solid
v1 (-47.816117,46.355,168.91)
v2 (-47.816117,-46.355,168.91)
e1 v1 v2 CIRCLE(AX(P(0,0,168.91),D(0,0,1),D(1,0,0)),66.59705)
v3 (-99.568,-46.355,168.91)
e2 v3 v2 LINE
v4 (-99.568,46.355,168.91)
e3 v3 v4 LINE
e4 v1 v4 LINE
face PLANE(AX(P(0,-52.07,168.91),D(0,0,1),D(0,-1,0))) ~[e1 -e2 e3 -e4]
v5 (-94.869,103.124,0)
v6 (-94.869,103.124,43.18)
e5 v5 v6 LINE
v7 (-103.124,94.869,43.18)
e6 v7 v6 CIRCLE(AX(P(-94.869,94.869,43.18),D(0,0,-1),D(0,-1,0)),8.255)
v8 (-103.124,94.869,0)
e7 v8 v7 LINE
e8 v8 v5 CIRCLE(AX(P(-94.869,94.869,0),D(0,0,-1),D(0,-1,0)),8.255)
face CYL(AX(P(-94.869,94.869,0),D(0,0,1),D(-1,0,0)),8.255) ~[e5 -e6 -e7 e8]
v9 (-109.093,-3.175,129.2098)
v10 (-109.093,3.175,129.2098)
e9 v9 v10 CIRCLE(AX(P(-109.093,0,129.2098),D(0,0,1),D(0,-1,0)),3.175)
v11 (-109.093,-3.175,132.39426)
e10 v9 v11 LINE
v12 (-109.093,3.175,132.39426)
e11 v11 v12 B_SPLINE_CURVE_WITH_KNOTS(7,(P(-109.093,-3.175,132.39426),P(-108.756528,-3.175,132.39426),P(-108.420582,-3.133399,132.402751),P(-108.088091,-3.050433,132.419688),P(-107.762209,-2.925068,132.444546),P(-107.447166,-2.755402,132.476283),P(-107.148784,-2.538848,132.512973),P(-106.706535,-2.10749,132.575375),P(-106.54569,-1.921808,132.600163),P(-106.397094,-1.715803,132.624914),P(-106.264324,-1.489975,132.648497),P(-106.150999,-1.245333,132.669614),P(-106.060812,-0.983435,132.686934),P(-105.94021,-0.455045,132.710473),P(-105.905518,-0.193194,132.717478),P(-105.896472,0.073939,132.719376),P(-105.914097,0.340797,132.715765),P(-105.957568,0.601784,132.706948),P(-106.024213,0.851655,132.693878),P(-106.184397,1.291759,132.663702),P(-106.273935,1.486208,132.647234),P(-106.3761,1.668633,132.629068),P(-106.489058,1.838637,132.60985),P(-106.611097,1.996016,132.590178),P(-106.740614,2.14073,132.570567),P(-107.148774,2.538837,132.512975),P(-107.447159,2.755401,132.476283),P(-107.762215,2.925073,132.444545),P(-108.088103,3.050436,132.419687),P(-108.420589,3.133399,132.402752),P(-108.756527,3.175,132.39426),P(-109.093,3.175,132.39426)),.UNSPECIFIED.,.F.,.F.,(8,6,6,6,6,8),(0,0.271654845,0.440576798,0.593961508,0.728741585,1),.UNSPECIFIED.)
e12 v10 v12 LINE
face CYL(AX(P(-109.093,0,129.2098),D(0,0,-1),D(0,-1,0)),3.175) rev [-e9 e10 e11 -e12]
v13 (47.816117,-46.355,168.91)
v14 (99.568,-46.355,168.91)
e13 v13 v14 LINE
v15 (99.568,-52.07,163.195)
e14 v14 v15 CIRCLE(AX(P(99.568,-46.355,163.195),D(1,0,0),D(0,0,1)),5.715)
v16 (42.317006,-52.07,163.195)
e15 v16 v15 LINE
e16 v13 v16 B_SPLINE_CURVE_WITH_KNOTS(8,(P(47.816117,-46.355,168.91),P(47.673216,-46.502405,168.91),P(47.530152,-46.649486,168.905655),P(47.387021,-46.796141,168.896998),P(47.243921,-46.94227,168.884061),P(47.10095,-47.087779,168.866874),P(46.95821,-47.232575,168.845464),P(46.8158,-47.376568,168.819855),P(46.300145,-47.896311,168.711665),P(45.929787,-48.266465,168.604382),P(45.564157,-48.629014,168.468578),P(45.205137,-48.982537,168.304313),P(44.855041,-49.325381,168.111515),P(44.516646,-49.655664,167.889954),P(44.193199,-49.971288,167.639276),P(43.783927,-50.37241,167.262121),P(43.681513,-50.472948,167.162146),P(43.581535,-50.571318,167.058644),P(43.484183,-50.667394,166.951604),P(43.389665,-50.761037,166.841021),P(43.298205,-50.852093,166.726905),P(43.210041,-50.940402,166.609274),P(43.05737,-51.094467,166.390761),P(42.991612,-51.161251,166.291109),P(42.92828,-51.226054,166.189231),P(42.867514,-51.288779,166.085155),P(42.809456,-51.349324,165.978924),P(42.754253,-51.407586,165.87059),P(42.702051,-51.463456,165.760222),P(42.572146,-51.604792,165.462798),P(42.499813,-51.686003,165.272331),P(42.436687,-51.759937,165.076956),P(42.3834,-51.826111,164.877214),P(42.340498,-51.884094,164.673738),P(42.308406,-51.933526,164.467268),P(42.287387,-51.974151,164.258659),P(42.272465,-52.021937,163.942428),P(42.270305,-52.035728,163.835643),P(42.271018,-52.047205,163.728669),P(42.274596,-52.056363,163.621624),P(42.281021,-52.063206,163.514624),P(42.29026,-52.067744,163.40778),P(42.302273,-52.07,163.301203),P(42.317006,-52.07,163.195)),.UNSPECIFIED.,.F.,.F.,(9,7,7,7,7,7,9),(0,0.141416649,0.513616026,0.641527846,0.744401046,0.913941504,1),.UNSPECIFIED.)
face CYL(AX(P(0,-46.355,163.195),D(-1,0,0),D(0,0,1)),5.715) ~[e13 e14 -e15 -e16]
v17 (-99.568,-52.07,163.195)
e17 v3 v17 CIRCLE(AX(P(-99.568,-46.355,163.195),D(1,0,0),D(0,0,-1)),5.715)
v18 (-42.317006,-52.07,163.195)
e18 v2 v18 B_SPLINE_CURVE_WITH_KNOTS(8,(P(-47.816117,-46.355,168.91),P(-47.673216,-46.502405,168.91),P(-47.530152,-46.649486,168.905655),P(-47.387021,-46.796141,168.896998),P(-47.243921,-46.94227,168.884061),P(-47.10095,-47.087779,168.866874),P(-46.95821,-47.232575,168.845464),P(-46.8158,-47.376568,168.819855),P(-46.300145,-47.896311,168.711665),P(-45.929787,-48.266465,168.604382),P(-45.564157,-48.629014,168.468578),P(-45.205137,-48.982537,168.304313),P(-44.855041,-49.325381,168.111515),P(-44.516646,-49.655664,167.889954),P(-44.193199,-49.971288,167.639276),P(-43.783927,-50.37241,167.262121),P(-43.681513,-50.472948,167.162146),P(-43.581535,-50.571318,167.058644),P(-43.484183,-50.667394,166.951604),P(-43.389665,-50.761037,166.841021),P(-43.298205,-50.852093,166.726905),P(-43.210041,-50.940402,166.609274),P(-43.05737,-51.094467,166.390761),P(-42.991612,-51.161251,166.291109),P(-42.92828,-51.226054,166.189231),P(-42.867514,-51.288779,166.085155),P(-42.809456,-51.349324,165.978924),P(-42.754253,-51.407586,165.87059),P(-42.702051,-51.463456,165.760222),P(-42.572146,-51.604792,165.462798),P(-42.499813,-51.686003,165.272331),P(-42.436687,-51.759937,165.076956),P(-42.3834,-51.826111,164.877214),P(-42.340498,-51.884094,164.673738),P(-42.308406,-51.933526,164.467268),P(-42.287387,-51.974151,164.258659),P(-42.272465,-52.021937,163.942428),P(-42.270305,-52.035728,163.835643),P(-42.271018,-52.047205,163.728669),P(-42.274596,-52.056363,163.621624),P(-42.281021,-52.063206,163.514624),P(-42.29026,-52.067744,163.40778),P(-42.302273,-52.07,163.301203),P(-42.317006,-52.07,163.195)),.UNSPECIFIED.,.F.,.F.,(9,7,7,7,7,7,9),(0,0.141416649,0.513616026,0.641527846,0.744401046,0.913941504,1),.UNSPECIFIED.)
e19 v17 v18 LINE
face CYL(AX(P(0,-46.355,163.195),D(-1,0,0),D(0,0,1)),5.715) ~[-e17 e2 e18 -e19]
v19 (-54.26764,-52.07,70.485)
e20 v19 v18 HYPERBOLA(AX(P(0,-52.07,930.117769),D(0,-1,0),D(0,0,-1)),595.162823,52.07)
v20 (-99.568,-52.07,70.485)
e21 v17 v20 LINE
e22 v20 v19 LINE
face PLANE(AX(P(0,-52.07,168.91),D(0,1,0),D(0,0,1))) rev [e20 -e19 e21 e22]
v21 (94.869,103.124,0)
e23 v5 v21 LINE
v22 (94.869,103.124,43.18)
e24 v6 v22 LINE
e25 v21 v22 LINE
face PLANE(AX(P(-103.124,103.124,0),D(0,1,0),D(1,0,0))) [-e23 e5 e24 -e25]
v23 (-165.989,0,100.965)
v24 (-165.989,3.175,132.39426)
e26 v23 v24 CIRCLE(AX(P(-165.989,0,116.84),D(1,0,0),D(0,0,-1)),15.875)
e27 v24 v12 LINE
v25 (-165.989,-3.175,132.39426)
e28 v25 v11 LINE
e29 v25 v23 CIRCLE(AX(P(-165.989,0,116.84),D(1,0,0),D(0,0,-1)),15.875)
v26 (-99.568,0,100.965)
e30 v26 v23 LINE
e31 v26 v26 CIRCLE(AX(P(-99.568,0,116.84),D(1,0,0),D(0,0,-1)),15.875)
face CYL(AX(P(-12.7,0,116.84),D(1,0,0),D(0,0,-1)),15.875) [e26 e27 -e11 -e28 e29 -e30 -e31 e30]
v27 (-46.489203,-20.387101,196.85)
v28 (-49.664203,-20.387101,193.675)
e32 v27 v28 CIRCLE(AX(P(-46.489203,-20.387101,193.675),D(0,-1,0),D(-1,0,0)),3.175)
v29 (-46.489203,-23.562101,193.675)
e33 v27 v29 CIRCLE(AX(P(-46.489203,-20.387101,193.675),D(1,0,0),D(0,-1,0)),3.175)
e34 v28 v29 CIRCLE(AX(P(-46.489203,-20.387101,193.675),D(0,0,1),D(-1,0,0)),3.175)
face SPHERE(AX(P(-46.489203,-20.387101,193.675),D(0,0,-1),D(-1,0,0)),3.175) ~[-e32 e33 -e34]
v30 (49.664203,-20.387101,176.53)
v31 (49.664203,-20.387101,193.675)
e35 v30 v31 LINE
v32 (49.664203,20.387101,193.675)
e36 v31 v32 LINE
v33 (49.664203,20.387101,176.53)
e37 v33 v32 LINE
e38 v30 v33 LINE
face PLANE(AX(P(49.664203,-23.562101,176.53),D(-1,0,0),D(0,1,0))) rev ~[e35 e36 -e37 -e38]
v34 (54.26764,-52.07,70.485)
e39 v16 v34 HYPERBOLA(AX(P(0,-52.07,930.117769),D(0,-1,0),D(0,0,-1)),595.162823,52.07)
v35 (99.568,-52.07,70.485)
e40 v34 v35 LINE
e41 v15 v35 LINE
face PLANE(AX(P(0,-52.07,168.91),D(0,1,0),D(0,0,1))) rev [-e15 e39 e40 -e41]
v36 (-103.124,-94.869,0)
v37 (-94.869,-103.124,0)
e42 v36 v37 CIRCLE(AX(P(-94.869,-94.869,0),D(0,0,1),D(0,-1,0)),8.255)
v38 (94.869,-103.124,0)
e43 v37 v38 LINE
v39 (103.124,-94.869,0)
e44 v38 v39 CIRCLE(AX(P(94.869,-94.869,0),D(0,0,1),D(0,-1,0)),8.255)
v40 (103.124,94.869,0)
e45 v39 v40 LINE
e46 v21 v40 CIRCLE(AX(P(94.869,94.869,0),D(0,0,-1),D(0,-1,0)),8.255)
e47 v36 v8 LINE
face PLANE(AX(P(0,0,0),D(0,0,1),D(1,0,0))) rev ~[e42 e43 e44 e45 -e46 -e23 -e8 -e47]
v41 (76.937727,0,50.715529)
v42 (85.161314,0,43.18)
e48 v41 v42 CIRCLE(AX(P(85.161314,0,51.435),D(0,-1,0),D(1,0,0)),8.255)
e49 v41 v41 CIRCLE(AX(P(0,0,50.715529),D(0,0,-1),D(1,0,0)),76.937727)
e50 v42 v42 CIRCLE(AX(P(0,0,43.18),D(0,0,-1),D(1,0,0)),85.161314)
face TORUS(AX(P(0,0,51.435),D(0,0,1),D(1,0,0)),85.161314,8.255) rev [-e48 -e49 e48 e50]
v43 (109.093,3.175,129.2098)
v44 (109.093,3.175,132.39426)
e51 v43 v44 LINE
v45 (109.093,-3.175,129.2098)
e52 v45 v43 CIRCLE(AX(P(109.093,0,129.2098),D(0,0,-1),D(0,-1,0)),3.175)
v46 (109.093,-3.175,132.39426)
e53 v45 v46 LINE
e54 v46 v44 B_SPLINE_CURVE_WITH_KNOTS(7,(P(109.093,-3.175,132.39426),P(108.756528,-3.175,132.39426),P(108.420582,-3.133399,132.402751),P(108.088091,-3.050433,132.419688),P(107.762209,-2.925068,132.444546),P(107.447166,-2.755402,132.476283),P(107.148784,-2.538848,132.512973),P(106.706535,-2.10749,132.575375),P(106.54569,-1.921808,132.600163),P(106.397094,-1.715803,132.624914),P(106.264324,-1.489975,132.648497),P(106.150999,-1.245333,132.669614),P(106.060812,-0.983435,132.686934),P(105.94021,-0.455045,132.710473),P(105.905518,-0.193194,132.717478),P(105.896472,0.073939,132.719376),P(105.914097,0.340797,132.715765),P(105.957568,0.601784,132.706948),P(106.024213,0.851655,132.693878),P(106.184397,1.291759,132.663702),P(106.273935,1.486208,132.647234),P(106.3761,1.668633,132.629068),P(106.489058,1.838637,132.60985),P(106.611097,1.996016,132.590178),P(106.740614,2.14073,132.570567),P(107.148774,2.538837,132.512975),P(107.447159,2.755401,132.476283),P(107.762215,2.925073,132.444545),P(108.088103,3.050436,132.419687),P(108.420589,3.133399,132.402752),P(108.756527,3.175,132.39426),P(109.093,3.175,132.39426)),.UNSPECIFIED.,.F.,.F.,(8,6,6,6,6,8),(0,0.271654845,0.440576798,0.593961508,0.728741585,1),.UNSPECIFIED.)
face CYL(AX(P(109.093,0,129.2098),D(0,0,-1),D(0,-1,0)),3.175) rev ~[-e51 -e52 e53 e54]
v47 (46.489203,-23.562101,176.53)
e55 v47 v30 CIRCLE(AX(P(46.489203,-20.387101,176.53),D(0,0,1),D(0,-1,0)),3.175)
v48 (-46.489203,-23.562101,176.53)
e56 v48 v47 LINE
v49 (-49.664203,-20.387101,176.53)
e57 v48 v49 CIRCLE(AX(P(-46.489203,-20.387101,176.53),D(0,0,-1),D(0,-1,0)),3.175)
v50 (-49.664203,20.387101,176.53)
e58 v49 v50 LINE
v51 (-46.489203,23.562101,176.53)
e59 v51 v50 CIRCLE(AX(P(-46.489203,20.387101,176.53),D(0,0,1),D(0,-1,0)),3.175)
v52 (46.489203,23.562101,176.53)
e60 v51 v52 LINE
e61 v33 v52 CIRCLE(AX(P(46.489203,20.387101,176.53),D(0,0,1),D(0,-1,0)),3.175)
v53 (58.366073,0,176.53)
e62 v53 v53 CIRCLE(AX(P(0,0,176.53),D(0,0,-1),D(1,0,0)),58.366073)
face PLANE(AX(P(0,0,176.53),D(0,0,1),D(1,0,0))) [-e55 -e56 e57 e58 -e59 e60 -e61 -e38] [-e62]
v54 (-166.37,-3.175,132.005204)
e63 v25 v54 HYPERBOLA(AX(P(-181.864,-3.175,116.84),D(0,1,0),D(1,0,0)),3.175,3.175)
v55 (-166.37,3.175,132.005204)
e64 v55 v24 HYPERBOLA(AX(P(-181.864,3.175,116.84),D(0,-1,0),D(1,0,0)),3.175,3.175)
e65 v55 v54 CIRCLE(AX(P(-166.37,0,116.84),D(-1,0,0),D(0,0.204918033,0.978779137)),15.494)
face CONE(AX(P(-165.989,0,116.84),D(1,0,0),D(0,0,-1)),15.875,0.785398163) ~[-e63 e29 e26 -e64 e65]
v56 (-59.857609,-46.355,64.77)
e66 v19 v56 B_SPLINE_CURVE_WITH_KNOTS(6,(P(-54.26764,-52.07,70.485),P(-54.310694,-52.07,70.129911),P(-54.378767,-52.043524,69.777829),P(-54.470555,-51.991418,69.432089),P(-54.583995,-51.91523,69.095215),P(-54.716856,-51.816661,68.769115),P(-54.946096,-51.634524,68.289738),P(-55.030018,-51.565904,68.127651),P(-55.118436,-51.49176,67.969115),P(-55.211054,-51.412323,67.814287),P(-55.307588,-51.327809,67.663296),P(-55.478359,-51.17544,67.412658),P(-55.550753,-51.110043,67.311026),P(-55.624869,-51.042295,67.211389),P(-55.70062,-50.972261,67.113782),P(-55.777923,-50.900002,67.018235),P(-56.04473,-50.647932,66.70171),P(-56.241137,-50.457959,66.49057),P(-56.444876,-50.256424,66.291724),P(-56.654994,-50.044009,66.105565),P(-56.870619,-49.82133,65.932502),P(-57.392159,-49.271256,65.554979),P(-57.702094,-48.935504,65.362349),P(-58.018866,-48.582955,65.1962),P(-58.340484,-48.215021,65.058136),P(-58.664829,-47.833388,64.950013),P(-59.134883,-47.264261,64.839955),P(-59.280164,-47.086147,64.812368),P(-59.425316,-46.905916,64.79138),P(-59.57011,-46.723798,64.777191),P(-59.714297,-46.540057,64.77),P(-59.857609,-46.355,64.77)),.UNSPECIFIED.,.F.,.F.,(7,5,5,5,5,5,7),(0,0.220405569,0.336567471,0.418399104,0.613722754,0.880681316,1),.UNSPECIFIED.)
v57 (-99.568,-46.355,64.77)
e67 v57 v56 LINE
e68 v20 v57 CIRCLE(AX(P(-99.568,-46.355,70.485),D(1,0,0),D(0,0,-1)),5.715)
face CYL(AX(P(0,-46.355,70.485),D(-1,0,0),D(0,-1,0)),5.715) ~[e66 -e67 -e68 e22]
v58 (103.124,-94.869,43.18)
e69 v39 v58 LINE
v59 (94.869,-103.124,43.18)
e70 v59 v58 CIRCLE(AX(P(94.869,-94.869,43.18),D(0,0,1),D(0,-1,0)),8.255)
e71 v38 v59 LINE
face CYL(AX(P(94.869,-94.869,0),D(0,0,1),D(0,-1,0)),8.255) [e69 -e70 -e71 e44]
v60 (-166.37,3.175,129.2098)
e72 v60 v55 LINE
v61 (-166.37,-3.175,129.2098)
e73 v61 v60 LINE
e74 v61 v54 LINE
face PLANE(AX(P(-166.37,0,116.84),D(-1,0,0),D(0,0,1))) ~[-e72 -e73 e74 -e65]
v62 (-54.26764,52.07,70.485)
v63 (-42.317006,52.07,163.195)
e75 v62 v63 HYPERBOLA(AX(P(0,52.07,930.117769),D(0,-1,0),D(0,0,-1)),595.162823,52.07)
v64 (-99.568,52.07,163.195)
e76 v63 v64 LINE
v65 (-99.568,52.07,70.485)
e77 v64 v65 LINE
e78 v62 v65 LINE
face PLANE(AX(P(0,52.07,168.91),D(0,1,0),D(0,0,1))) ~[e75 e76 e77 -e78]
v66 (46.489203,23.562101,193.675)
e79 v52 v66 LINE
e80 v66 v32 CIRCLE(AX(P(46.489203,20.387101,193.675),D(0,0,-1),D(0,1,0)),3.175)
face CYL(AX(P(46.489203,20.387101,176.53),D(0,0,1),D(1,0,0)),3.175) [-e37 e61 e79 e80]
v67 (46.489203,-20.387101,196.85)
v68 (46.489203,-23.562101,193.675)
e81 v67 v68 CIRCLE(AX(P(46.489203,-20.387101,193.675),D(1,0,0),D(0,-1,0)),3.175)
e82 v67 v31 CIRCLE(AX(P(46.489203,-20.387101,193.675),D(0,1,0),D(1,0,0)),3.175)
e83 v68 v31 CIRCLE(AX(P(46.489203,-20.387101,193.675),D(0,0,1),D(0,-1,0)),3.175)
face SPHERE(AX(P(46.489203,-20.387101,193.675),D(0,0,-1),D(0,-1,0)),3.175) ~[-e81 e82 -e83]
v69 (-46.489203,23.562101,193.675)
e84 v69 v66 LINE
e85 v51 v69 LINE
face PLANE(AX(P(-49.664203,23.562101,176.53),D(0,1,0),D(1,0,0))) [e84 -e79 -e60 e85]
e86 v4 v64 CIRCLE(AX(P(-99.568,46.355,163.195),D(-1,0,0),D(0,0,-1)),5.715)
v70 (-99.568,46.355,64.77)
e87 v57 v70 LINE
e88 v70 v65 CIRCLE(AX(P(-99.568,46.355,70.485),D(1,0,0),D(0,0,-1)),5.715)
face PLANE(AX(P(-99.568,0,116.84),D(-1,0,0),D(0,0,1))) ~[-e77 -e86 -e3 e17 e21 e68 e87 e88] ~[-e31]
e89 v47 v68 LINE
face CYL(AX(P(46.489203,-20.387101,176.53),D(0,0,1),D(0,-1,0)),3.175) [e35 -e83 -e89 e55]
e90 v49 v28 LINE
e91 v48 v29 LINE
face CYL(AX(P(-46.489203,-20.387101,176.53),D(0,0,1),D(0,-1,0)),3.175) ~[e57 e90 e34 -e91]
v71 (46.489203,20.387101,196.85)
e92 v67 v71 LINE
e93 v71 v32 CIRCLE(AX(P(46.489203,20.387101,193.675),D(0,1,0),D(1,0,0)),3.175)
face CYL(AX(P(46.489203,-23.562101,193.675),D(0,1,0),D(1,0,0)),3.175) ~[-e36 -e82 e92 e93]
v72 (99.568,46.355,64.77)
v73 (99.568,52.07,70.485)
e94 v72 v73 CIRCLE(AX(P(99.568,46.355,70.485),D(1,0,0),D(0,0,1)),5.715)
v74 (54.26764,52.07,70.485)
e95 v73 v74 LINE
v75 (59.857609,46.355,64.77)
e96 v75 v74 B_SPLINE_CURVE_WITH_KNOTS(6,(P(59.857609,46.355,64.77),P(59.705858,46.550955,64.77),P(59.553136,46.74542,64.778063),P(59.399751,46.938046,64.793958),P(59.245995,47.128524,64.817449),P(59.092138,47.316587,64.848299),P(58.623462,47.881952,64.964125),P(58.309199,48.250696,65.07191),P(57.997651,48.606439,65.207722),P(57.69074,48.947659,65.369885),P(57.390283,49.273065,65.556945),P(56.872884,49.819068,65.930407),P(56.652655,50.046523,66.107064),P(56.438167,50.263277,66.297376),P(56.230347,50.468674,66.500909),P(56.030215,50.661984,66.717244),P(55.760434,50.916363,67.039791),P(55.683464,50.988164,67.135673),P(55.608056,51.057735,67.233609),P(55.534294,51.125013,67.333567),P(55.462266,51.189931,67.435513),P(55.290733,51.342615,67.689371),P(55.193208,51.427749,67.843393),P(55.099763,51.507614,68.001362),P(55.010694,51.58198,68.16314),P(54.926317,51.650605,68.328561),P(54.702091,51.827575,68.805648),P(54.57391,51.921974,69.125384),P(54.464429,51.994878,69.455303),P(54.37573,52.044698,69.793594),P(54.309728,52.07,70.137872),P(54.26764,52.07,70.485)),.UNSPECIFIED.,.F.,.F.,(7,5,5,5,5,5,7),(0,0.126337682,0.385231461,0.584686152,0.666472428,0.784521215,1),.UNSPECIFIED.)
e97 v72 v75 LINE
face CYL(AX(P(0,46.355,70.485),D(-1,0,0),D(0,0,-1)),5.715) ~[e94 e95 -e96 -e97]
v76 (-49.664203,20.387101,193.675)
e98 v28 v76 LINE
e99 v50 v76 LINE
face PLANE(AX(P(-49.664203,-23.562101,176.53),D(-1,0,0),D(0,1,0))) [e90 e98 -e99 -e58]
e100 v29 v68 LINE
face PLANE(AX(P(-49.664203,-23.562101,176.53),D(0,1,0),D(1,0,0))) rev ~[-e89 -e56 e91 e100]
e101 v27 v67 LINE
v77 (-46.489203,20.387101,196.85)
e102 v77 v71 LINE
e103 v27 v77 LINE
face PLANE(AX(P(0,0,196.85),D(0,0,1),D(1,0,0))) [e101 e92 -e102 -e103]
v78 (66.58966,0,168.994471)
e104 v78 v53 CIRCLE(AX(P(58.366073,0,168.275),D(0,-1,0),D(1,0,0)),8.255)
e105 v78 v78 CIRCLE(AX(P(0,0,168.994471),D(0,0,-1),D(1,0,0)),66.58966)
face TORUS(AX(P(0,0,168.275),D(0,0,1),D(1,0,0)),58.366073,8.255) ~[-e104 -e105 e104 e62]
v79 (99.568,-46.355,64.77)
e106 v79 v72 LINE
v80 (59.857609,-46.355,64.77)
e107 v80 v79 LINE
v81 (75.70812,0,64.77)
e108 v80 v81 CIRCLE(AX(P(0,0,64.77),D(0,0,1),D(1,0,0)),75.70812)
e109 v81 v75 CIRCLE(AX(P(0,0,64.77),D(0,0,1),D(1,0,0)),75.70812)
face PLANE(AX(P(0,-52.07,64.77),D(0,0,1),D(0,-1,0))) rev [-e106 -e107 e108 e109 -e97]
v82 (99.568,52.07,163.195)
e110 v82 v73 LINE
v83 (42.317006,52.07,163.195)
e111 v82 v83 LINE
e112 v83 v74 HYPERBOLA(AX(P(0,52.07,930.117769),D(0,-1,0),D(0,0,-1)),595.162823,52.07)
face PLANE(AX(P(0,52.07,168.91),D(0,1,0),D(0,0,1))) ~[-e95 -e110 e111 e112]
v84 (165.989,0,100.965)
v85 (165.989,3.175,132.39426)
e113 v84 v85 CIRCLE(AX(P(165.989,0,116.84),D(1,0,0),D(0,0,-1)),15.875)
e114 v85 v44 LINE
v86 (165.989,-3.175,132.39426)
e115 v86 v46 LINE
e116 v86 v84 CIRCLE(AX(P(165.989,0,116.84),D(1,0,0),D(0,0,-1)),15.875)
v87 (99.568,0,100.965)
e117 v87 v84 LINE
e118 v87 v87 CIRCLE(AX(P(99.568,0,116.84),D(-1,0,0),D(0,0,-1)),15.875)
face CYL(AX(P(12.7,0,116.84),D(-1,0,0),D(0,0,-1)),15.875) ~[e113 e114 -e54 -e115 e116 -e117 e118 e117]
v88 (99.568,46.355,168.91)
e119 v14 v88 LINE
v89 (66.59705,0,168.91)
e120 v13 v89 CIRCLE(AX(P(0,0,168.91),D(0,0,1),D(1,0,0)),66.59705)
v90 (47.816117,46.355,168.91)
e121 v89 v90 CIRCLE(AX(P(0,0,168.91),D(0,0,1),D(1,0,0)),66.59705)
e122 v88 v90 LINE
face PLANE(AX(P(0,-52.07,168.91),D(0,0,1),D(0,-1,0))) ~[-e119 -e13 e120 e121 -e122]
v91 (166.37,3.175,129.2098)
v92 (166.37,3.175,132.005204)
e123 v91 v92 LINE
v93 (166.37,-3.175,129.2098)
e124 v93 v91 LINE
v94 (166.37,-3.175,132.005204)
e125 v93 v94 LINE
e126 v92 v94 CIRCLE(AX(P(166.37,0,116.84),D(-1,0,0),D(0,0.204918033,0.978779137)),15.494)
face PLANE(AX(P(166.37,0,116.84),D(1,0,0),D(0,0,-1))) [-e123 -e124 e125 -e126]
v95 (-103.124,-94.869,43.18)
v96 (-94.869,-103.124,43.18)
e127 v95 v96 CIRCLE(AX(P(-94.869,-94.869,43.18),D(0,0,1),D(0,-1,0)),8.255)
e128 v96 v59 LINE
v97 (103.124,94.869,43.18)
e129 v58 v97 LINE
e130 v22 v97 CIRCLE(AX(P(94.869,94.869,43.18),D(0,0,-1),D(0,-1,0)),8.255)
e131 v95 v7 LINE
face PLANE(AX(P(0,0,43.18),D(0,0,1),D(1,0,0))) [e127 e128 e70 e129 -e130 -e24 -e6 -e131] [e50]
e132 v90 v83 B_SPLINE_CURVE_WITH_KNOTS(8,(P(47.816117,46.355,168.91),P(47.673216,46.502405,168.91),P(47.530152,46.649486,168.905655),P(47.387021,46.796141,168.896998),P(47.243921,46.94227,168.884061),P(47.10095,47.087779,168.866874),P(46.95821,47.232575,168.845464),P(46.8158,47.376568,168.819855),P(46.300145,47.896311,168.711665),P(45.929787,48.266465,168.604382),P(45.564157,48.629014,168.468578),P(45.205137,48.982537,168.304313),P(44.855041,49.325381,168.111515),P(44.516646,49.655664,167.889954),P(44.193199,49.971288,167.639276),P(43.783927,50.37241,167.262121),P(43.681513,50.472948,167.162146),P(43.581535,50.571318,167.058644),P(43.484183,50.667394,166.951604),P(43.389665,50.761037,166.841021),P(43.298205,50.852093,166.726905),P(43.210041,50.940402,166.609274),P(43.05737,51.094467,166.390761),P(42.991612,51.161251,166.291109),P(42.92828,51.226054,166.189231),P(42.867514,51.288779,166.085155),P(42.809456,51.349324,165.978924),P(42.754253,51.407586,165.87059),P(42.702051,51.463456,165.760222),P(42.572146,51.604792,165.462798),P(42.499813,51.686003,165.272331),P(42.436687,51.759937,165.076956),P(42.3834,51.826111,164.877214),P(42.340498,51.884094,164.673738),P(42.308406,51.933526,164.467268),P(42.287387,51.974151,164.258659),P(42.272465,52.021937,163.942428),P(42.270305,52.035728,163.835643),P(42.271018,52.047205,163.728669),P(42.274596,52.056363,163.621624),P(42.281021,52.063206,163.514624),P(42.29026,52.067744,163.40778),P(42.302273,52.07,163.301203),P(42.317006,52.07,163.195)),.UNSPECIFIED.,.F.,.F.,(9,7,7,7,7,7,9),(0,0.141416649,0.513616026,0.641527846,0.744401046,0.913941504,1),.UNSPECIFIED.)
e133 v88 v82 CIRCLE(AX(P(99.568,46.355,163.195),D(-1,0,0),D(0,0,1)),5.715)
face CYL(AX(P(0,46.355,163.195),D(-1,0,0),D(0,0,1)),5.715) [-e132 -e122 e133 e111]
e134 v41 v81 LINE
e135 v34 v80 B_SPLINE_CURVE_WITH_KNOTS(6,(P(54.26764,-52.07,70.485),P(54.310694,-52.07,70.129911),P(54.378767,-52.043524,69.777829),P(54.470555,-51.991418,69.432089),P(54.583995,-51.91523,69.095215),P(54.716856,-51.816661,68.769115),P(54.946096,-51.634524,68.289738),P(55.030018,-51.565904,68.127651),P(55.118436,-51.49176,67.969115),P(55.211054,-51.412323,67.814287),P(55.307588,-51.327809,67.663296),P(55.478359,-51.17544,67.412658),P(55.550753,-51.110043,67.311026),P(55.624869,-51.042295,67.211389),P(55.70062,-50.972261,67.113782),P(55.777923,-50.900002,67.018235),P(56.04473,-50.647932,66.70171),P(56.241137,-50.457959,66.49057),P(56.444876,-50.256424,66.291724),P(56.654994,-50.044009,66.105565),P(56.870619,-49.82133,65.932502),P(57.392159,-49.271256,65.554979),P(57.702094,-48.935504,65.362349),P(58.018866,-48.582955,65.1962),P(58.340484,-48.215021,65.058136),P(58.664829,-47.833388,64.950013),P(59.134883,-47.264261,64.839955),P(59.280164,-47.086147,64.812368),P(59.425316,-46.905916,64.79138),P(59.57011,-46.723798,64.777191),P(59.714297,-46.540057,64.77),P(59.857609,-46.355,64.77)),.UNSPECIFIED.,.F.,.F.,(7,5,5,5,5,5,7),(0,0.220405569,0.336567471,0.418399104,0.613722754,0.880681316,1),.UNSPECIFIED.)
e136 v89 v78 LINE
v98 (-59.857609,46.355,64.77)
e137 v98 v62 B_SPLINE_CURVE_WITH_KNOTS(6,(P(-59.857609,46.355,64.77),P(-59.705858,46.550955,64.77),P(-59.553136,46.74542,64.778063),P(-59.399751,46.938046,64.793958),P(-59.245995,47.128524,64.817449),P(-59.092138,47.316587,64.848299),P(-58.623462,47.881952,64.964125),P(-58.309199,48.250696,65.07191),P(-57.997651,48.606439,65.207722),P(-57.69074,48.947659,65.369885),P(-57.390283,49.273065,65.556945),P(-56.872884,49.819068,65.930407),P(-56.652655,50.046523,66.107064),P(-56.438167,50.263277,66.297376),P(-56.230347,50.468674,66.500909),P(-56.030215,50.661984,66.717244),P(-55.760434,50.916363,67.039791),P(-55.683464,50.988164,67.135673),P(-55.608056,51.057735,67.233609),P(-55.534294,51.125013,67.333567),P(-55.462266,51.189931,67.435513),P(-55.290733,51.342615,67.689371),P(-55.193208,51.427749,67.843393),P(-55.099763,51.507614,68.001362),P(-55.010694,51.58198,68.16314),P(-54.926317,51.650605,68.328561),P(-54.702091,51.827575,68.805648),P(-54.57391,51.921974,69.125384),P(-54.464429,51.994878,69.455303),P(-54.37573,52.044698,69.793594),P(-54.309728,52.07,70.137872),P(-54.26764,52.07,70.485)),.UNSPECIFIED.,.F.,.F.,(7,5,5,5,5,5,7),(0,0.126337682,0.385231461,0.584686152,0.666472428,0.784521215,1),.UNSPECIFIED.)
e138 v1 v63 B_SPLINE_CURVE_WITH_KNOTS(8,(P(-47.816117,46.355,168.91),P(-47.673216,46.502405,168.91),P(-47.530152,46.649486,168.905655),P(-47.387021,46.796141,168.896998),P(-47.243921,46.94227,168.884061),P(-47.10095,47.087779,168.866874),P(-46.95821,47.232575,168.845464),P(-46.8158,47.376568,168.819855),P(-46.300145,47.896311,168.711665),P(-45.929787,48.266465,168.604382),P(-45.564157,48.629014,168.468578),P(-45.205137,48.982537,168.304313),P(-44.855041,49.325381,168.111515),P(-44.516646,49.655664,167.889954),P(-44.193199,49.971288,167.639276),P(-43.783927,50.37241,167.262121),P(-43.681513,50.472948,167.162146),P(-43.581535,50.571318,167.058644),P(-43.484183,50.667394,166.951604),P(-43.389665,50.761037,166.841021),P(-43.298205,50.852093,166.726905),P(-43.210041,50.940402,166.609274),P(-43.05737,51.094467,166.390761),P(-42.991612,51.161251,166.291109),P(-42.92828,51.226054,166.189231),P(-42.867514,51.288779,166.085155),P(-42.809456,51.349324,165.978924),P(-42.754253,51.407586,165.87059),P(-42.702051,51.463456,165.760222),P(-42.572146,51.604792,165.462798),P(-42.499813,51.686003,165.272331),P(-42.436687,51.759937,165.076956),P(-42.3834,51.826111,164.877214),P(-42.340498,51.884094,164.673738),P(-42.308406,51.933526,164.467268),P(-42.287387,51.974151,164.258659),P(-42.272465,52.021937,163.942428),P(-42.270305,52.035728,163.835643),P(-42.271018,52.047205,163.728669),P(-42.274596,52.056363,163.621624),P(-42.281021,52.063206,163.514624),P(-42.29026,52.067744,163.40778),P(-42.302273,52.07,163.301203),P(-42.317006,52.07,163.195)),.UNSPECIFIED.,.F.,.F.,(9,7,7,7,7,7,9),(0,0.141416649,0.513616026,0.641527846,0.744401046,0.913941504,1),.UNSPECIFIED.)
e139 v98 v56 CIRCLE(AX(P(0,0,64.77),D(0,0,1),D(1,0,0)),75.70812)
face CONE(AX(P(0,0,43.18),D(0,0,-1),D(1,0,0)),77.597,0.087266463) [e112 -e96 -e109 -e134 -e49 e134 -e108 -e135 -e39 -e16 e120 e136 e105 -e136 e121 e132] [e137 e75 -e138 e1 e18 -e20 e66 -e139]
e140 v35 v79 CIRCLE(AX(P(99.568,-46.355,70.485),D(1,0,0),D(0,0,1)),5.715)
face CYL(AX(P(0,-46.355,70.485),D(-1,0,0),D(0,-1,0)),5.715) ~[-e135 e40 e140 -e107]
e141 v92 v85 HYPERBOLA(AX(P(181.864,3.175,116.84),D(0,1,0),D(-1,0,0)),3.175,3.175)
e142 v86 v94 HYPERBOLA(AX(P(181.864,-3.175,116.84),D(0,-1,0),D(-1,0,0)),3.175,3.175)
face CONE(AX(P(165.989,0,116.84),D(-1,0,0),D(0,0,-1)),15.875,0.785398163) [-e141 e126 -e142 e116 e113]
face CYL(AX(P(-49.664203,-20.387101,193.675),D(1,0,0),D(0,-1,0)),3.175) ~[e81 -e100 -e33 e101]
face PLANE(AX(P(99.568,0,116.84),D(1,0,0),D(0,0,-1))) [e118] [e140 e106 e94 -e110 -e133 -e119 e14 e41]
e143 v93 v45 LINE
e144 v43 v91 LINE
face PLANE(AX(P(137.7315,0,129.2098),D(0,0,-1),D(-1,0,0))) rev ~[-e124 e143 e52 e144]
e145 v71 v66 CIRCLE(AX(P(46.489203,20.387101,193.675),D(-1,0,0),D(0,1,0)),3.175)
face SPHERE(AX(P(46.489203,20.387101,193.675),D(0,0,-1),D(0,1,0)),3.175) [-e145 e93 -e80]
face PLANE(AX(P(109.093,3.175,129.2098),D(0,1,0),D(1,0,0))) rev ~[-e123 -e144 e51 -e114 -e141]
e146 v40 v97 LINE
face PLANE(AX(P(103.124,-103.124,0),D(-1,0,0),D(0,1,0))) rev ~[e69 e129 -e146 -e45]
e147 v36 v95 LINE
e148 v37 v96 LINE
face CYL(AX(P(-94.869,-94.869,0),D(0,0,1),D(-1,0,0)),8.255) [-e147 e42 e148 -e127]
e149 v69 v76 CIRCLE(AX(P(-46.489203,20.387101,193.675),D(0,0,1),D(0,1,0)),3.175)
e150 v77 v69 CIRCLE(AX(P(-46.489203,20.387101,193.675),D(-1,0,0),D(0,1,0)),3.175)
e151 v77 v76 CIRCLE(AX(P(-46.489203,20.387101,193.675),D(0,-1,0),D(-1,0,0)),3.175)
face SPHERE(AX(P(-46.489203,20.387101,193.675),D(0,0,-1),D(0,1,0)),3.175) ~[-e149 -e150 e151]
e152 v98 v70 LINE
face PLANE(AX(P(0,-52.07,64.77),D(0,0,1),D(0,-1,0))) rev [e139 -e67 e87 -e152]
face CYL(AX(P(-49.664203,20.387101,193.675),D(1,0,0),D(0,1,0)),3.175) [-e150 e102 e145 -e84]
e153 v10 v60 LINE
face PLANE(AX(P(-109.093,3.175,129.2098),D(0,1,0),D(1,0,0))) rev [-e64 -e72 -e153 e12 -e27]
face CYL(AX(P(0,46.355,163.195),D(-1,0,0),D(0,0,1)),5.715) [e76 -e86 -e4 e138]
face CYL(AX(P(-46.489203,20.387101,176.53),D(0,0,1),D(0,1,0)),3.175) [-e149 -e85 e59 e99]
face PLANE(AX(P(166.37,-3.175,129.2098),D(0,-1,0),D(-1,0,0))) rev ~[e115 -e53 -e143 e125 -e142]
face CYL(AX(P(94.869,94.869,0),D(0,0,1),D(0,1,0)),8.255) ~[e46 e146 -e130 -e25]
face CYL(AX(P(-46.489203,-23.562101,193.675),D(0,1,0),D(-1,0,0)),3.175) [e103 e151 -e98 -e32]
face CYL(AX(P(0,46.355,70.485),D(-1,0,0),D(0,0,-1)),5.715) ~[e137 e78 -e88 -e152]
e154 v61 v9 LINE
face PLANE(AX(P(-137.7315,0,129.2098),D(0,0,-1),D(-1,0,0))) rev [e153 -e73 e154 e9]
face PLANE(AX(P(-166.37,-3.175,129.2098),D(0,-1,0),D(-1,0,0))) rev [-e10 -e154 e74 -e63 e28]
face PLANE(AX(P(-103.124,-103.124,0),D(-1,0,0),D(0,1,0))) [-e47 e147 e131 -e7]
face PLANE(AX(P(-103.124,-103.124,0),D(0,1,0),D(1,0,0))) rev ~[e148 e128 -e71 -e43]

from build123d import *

# Parameters (mm, degrees)
SKETCH1_W           = 206.248
SKETCH1_H           = 206.248
C_DIM_DEPTH         = 43.18
SHAFT_START         = 12.7
SKETCH_A_R          = 15.875
SHAFT_DEPTH         = 153.67
SKETCH3_W           = 104.14
SKETCH3_H           = 104.14
BOSS_EXTRUDE3_DEPTH = 99.568
FILLET1_R           = 5.715
FILLET4_R           = 5.715
SKETCH4_R           = 77.597
BOSS_EXTRUDE4_DEPTH = 133.35
BOSS_EXTRUDE4_TAPER = 5
FILLET2_R           = 8.255
SKETCH5_W           = 99.328405226
SKETCH5_H           = 47.124202614
BOSS_EXTRUDE5_DEPTH = 20.32
CHAMFER1_SIZE       = 0.381
FILLET3_R           = 3.175
CUT_EXTRUDE_START   = 12.3698
CUT_EXTRUDE_B_DEPTH = 68.6402


with BuildPart() as part:
    # Sketch1 → C dim (new body)
    with BuildSketch(Plane.XY):
        Rectangle(SKETCH1_W, SKETCH1_H)
    extrude(amount=C_DIM_DEPTH)



with BuildPart() as body_2:
    # Sketch A → Shaft (new body)
    with BuildSketch(Plane(origin=(0, 0, 0), x_dir=(0, 0, -1), z_dir=(1, 0, 0)).offset(SHAFT_START)):
        with Locations((-116.84, 0)):
            Circle(SKETCH_A_R)
    extrude(amount=SHAFT_DEPTH)

    # Chamfer1
    chamfer1_edges = [body_2.edges().sort_by_distance(p)[0] for p in [
        (166.37, 0, 132.715),
    ]]
    chamfer(chamfer1_edges, length=CHAMFER1_SIZE)

    # Sketch6 → Cut-Extrude B (cut, through all)
    with BuildSketch(Plane.XY.offset(116.84).offset(CUT_EXTRUDE_START)):
        with BuildLine():
            Line((166.37, -3.175), (109.093, -3.175))
            ThreePointArc((109.093, -3.175), (105.918, 0), (109.093, 3.175))
            Line((109.093, 3.175), (166.37, 3.175))
            ThreePointArc((166.37, 3.175), (169.545, 0), (166.37, -3.175))
        make_face()
    extrude(amount=CUT_EXTRUDE_B_DEPTH, mode=Mode.SUBTRACT)


with BuildPart() as body_3:
    # Sketch3 → Boss-Extrude3 (new body)
    with BuildSketch(Plane(origin=(0, 0, 0), x_dir=(0, 0, -1), z_dir=(1, 0, 0))):
        with Locations((-116.84, 0)):
            Rectangle(SKETCH3_W, SKETCH3_H)
    extrude(amount=BOSS_EXTRUDE3_DEPTH)


with BuildPart() as body_4:
    # Mirror2: mirrored copy
    add(body_3.part.mirror(Plane(origin=(0, 0, 0), x_dir=(0, 0, 1), z_dir=(1, 0, 0))))

    # Fillet4
    fillet4_edges = [body_4.edges().sort_by_distance(p)[0] for p in [
        (-49.784, 52.07, 64.77),
        (-49.784, 52.07, 168.91),
        (-49.784, -52.07, 168.91),
        (-49.784, -52.07, 64.77),
    ]]
    fillet(fillet4_edges, radius=FILLET4_R)


with BuildPart() as body_3_1:
    add(body_3.part)

    # Fillet1
    fillet1_edges = [body_3_1.edges().sort_by_distance(p)[0] for p in [
        (49.784, 52.07, 64.77),
        (49.784, 52.07, 168.91),
        (49.784, -52.07, 168.91),
        (49.784, -52.07, 64.77),
    ]]
    fillet(fillet1_edges, radius=FILLET1_R)


with BuildPart() as part_1:
    add(part.part)

    add(body_3_1.part)  # Boss-Extrude4 merges body 3

    add(body_4.part)  # Boss-Extrude4 merges body 4
    # Sketch4 → Boss-Extrude4 (add)
    with BuildSketch(Plane.XY.offset(43.18)):
        Circle(SKETCH4_R)
    extrude(amount=BOSS_EXTRUDE4_DEPTH, taper=BOSS_EXTRUDE4_TAPER)

    # Fillet2
    fillet2_edges = [part_1.edges().sort_by_distance(p)[0] for p in [
        (-65.930386719, 0, 176.53),
        (-77.597, 0, 43.18),
        (-103.124, 103.124, 21.59),
        (103.124, 103.124, 21.59),
        (103.124, -103.124, 21.59),
        (-103.124, -103.124, 21.59),
    ]]
    fillet(fillet2_edges, radius=FILLET2_R)

    # Sketch5 → Boss-Extrude5 (add)
    with BuildSketch(Plane.XY.offset(176.53)):
        Rectangle(SKETCH5_W, SKETCH5_H)
    extrude(amount=BOSS_EXTRUDE5_DEPTH)

    # Fillet3
    fillet3_edges = [part_1.edges().sort_by_distance(p)[0] for p in [
        (-49.664202613, 23.562101307, 186.69),
        (-49.664202613, -23.562101307, 186.69),
        (49.664202613, -23.562101307, 186.69),
        (49.664202613, 23.562101307, 186.69),
        (0, 23.562101307, 196.85),
        (-49.664202613, 0, 196.85),
        (0, -23.562101307, 196.85),
        (49.664202613, 0, 196.85),
    ]]
    fillet(fillet3_edges, radius=FILLET3_R)


with BuildPart() as body_3_2:
    # Mirror6: mirrored copy
    add(body_2.part.mirror(Plane(origin=(0, 0, 0), x_dir=(0, 0, 1), z_dir=(1, 0, 0))))


with BuildPart() as part_2:
    add(part_1.part)

    # Combine1: union body 2, body 3 2
    add(body_2.part)
    add(body_3_2.part)


solid = part_2.part
